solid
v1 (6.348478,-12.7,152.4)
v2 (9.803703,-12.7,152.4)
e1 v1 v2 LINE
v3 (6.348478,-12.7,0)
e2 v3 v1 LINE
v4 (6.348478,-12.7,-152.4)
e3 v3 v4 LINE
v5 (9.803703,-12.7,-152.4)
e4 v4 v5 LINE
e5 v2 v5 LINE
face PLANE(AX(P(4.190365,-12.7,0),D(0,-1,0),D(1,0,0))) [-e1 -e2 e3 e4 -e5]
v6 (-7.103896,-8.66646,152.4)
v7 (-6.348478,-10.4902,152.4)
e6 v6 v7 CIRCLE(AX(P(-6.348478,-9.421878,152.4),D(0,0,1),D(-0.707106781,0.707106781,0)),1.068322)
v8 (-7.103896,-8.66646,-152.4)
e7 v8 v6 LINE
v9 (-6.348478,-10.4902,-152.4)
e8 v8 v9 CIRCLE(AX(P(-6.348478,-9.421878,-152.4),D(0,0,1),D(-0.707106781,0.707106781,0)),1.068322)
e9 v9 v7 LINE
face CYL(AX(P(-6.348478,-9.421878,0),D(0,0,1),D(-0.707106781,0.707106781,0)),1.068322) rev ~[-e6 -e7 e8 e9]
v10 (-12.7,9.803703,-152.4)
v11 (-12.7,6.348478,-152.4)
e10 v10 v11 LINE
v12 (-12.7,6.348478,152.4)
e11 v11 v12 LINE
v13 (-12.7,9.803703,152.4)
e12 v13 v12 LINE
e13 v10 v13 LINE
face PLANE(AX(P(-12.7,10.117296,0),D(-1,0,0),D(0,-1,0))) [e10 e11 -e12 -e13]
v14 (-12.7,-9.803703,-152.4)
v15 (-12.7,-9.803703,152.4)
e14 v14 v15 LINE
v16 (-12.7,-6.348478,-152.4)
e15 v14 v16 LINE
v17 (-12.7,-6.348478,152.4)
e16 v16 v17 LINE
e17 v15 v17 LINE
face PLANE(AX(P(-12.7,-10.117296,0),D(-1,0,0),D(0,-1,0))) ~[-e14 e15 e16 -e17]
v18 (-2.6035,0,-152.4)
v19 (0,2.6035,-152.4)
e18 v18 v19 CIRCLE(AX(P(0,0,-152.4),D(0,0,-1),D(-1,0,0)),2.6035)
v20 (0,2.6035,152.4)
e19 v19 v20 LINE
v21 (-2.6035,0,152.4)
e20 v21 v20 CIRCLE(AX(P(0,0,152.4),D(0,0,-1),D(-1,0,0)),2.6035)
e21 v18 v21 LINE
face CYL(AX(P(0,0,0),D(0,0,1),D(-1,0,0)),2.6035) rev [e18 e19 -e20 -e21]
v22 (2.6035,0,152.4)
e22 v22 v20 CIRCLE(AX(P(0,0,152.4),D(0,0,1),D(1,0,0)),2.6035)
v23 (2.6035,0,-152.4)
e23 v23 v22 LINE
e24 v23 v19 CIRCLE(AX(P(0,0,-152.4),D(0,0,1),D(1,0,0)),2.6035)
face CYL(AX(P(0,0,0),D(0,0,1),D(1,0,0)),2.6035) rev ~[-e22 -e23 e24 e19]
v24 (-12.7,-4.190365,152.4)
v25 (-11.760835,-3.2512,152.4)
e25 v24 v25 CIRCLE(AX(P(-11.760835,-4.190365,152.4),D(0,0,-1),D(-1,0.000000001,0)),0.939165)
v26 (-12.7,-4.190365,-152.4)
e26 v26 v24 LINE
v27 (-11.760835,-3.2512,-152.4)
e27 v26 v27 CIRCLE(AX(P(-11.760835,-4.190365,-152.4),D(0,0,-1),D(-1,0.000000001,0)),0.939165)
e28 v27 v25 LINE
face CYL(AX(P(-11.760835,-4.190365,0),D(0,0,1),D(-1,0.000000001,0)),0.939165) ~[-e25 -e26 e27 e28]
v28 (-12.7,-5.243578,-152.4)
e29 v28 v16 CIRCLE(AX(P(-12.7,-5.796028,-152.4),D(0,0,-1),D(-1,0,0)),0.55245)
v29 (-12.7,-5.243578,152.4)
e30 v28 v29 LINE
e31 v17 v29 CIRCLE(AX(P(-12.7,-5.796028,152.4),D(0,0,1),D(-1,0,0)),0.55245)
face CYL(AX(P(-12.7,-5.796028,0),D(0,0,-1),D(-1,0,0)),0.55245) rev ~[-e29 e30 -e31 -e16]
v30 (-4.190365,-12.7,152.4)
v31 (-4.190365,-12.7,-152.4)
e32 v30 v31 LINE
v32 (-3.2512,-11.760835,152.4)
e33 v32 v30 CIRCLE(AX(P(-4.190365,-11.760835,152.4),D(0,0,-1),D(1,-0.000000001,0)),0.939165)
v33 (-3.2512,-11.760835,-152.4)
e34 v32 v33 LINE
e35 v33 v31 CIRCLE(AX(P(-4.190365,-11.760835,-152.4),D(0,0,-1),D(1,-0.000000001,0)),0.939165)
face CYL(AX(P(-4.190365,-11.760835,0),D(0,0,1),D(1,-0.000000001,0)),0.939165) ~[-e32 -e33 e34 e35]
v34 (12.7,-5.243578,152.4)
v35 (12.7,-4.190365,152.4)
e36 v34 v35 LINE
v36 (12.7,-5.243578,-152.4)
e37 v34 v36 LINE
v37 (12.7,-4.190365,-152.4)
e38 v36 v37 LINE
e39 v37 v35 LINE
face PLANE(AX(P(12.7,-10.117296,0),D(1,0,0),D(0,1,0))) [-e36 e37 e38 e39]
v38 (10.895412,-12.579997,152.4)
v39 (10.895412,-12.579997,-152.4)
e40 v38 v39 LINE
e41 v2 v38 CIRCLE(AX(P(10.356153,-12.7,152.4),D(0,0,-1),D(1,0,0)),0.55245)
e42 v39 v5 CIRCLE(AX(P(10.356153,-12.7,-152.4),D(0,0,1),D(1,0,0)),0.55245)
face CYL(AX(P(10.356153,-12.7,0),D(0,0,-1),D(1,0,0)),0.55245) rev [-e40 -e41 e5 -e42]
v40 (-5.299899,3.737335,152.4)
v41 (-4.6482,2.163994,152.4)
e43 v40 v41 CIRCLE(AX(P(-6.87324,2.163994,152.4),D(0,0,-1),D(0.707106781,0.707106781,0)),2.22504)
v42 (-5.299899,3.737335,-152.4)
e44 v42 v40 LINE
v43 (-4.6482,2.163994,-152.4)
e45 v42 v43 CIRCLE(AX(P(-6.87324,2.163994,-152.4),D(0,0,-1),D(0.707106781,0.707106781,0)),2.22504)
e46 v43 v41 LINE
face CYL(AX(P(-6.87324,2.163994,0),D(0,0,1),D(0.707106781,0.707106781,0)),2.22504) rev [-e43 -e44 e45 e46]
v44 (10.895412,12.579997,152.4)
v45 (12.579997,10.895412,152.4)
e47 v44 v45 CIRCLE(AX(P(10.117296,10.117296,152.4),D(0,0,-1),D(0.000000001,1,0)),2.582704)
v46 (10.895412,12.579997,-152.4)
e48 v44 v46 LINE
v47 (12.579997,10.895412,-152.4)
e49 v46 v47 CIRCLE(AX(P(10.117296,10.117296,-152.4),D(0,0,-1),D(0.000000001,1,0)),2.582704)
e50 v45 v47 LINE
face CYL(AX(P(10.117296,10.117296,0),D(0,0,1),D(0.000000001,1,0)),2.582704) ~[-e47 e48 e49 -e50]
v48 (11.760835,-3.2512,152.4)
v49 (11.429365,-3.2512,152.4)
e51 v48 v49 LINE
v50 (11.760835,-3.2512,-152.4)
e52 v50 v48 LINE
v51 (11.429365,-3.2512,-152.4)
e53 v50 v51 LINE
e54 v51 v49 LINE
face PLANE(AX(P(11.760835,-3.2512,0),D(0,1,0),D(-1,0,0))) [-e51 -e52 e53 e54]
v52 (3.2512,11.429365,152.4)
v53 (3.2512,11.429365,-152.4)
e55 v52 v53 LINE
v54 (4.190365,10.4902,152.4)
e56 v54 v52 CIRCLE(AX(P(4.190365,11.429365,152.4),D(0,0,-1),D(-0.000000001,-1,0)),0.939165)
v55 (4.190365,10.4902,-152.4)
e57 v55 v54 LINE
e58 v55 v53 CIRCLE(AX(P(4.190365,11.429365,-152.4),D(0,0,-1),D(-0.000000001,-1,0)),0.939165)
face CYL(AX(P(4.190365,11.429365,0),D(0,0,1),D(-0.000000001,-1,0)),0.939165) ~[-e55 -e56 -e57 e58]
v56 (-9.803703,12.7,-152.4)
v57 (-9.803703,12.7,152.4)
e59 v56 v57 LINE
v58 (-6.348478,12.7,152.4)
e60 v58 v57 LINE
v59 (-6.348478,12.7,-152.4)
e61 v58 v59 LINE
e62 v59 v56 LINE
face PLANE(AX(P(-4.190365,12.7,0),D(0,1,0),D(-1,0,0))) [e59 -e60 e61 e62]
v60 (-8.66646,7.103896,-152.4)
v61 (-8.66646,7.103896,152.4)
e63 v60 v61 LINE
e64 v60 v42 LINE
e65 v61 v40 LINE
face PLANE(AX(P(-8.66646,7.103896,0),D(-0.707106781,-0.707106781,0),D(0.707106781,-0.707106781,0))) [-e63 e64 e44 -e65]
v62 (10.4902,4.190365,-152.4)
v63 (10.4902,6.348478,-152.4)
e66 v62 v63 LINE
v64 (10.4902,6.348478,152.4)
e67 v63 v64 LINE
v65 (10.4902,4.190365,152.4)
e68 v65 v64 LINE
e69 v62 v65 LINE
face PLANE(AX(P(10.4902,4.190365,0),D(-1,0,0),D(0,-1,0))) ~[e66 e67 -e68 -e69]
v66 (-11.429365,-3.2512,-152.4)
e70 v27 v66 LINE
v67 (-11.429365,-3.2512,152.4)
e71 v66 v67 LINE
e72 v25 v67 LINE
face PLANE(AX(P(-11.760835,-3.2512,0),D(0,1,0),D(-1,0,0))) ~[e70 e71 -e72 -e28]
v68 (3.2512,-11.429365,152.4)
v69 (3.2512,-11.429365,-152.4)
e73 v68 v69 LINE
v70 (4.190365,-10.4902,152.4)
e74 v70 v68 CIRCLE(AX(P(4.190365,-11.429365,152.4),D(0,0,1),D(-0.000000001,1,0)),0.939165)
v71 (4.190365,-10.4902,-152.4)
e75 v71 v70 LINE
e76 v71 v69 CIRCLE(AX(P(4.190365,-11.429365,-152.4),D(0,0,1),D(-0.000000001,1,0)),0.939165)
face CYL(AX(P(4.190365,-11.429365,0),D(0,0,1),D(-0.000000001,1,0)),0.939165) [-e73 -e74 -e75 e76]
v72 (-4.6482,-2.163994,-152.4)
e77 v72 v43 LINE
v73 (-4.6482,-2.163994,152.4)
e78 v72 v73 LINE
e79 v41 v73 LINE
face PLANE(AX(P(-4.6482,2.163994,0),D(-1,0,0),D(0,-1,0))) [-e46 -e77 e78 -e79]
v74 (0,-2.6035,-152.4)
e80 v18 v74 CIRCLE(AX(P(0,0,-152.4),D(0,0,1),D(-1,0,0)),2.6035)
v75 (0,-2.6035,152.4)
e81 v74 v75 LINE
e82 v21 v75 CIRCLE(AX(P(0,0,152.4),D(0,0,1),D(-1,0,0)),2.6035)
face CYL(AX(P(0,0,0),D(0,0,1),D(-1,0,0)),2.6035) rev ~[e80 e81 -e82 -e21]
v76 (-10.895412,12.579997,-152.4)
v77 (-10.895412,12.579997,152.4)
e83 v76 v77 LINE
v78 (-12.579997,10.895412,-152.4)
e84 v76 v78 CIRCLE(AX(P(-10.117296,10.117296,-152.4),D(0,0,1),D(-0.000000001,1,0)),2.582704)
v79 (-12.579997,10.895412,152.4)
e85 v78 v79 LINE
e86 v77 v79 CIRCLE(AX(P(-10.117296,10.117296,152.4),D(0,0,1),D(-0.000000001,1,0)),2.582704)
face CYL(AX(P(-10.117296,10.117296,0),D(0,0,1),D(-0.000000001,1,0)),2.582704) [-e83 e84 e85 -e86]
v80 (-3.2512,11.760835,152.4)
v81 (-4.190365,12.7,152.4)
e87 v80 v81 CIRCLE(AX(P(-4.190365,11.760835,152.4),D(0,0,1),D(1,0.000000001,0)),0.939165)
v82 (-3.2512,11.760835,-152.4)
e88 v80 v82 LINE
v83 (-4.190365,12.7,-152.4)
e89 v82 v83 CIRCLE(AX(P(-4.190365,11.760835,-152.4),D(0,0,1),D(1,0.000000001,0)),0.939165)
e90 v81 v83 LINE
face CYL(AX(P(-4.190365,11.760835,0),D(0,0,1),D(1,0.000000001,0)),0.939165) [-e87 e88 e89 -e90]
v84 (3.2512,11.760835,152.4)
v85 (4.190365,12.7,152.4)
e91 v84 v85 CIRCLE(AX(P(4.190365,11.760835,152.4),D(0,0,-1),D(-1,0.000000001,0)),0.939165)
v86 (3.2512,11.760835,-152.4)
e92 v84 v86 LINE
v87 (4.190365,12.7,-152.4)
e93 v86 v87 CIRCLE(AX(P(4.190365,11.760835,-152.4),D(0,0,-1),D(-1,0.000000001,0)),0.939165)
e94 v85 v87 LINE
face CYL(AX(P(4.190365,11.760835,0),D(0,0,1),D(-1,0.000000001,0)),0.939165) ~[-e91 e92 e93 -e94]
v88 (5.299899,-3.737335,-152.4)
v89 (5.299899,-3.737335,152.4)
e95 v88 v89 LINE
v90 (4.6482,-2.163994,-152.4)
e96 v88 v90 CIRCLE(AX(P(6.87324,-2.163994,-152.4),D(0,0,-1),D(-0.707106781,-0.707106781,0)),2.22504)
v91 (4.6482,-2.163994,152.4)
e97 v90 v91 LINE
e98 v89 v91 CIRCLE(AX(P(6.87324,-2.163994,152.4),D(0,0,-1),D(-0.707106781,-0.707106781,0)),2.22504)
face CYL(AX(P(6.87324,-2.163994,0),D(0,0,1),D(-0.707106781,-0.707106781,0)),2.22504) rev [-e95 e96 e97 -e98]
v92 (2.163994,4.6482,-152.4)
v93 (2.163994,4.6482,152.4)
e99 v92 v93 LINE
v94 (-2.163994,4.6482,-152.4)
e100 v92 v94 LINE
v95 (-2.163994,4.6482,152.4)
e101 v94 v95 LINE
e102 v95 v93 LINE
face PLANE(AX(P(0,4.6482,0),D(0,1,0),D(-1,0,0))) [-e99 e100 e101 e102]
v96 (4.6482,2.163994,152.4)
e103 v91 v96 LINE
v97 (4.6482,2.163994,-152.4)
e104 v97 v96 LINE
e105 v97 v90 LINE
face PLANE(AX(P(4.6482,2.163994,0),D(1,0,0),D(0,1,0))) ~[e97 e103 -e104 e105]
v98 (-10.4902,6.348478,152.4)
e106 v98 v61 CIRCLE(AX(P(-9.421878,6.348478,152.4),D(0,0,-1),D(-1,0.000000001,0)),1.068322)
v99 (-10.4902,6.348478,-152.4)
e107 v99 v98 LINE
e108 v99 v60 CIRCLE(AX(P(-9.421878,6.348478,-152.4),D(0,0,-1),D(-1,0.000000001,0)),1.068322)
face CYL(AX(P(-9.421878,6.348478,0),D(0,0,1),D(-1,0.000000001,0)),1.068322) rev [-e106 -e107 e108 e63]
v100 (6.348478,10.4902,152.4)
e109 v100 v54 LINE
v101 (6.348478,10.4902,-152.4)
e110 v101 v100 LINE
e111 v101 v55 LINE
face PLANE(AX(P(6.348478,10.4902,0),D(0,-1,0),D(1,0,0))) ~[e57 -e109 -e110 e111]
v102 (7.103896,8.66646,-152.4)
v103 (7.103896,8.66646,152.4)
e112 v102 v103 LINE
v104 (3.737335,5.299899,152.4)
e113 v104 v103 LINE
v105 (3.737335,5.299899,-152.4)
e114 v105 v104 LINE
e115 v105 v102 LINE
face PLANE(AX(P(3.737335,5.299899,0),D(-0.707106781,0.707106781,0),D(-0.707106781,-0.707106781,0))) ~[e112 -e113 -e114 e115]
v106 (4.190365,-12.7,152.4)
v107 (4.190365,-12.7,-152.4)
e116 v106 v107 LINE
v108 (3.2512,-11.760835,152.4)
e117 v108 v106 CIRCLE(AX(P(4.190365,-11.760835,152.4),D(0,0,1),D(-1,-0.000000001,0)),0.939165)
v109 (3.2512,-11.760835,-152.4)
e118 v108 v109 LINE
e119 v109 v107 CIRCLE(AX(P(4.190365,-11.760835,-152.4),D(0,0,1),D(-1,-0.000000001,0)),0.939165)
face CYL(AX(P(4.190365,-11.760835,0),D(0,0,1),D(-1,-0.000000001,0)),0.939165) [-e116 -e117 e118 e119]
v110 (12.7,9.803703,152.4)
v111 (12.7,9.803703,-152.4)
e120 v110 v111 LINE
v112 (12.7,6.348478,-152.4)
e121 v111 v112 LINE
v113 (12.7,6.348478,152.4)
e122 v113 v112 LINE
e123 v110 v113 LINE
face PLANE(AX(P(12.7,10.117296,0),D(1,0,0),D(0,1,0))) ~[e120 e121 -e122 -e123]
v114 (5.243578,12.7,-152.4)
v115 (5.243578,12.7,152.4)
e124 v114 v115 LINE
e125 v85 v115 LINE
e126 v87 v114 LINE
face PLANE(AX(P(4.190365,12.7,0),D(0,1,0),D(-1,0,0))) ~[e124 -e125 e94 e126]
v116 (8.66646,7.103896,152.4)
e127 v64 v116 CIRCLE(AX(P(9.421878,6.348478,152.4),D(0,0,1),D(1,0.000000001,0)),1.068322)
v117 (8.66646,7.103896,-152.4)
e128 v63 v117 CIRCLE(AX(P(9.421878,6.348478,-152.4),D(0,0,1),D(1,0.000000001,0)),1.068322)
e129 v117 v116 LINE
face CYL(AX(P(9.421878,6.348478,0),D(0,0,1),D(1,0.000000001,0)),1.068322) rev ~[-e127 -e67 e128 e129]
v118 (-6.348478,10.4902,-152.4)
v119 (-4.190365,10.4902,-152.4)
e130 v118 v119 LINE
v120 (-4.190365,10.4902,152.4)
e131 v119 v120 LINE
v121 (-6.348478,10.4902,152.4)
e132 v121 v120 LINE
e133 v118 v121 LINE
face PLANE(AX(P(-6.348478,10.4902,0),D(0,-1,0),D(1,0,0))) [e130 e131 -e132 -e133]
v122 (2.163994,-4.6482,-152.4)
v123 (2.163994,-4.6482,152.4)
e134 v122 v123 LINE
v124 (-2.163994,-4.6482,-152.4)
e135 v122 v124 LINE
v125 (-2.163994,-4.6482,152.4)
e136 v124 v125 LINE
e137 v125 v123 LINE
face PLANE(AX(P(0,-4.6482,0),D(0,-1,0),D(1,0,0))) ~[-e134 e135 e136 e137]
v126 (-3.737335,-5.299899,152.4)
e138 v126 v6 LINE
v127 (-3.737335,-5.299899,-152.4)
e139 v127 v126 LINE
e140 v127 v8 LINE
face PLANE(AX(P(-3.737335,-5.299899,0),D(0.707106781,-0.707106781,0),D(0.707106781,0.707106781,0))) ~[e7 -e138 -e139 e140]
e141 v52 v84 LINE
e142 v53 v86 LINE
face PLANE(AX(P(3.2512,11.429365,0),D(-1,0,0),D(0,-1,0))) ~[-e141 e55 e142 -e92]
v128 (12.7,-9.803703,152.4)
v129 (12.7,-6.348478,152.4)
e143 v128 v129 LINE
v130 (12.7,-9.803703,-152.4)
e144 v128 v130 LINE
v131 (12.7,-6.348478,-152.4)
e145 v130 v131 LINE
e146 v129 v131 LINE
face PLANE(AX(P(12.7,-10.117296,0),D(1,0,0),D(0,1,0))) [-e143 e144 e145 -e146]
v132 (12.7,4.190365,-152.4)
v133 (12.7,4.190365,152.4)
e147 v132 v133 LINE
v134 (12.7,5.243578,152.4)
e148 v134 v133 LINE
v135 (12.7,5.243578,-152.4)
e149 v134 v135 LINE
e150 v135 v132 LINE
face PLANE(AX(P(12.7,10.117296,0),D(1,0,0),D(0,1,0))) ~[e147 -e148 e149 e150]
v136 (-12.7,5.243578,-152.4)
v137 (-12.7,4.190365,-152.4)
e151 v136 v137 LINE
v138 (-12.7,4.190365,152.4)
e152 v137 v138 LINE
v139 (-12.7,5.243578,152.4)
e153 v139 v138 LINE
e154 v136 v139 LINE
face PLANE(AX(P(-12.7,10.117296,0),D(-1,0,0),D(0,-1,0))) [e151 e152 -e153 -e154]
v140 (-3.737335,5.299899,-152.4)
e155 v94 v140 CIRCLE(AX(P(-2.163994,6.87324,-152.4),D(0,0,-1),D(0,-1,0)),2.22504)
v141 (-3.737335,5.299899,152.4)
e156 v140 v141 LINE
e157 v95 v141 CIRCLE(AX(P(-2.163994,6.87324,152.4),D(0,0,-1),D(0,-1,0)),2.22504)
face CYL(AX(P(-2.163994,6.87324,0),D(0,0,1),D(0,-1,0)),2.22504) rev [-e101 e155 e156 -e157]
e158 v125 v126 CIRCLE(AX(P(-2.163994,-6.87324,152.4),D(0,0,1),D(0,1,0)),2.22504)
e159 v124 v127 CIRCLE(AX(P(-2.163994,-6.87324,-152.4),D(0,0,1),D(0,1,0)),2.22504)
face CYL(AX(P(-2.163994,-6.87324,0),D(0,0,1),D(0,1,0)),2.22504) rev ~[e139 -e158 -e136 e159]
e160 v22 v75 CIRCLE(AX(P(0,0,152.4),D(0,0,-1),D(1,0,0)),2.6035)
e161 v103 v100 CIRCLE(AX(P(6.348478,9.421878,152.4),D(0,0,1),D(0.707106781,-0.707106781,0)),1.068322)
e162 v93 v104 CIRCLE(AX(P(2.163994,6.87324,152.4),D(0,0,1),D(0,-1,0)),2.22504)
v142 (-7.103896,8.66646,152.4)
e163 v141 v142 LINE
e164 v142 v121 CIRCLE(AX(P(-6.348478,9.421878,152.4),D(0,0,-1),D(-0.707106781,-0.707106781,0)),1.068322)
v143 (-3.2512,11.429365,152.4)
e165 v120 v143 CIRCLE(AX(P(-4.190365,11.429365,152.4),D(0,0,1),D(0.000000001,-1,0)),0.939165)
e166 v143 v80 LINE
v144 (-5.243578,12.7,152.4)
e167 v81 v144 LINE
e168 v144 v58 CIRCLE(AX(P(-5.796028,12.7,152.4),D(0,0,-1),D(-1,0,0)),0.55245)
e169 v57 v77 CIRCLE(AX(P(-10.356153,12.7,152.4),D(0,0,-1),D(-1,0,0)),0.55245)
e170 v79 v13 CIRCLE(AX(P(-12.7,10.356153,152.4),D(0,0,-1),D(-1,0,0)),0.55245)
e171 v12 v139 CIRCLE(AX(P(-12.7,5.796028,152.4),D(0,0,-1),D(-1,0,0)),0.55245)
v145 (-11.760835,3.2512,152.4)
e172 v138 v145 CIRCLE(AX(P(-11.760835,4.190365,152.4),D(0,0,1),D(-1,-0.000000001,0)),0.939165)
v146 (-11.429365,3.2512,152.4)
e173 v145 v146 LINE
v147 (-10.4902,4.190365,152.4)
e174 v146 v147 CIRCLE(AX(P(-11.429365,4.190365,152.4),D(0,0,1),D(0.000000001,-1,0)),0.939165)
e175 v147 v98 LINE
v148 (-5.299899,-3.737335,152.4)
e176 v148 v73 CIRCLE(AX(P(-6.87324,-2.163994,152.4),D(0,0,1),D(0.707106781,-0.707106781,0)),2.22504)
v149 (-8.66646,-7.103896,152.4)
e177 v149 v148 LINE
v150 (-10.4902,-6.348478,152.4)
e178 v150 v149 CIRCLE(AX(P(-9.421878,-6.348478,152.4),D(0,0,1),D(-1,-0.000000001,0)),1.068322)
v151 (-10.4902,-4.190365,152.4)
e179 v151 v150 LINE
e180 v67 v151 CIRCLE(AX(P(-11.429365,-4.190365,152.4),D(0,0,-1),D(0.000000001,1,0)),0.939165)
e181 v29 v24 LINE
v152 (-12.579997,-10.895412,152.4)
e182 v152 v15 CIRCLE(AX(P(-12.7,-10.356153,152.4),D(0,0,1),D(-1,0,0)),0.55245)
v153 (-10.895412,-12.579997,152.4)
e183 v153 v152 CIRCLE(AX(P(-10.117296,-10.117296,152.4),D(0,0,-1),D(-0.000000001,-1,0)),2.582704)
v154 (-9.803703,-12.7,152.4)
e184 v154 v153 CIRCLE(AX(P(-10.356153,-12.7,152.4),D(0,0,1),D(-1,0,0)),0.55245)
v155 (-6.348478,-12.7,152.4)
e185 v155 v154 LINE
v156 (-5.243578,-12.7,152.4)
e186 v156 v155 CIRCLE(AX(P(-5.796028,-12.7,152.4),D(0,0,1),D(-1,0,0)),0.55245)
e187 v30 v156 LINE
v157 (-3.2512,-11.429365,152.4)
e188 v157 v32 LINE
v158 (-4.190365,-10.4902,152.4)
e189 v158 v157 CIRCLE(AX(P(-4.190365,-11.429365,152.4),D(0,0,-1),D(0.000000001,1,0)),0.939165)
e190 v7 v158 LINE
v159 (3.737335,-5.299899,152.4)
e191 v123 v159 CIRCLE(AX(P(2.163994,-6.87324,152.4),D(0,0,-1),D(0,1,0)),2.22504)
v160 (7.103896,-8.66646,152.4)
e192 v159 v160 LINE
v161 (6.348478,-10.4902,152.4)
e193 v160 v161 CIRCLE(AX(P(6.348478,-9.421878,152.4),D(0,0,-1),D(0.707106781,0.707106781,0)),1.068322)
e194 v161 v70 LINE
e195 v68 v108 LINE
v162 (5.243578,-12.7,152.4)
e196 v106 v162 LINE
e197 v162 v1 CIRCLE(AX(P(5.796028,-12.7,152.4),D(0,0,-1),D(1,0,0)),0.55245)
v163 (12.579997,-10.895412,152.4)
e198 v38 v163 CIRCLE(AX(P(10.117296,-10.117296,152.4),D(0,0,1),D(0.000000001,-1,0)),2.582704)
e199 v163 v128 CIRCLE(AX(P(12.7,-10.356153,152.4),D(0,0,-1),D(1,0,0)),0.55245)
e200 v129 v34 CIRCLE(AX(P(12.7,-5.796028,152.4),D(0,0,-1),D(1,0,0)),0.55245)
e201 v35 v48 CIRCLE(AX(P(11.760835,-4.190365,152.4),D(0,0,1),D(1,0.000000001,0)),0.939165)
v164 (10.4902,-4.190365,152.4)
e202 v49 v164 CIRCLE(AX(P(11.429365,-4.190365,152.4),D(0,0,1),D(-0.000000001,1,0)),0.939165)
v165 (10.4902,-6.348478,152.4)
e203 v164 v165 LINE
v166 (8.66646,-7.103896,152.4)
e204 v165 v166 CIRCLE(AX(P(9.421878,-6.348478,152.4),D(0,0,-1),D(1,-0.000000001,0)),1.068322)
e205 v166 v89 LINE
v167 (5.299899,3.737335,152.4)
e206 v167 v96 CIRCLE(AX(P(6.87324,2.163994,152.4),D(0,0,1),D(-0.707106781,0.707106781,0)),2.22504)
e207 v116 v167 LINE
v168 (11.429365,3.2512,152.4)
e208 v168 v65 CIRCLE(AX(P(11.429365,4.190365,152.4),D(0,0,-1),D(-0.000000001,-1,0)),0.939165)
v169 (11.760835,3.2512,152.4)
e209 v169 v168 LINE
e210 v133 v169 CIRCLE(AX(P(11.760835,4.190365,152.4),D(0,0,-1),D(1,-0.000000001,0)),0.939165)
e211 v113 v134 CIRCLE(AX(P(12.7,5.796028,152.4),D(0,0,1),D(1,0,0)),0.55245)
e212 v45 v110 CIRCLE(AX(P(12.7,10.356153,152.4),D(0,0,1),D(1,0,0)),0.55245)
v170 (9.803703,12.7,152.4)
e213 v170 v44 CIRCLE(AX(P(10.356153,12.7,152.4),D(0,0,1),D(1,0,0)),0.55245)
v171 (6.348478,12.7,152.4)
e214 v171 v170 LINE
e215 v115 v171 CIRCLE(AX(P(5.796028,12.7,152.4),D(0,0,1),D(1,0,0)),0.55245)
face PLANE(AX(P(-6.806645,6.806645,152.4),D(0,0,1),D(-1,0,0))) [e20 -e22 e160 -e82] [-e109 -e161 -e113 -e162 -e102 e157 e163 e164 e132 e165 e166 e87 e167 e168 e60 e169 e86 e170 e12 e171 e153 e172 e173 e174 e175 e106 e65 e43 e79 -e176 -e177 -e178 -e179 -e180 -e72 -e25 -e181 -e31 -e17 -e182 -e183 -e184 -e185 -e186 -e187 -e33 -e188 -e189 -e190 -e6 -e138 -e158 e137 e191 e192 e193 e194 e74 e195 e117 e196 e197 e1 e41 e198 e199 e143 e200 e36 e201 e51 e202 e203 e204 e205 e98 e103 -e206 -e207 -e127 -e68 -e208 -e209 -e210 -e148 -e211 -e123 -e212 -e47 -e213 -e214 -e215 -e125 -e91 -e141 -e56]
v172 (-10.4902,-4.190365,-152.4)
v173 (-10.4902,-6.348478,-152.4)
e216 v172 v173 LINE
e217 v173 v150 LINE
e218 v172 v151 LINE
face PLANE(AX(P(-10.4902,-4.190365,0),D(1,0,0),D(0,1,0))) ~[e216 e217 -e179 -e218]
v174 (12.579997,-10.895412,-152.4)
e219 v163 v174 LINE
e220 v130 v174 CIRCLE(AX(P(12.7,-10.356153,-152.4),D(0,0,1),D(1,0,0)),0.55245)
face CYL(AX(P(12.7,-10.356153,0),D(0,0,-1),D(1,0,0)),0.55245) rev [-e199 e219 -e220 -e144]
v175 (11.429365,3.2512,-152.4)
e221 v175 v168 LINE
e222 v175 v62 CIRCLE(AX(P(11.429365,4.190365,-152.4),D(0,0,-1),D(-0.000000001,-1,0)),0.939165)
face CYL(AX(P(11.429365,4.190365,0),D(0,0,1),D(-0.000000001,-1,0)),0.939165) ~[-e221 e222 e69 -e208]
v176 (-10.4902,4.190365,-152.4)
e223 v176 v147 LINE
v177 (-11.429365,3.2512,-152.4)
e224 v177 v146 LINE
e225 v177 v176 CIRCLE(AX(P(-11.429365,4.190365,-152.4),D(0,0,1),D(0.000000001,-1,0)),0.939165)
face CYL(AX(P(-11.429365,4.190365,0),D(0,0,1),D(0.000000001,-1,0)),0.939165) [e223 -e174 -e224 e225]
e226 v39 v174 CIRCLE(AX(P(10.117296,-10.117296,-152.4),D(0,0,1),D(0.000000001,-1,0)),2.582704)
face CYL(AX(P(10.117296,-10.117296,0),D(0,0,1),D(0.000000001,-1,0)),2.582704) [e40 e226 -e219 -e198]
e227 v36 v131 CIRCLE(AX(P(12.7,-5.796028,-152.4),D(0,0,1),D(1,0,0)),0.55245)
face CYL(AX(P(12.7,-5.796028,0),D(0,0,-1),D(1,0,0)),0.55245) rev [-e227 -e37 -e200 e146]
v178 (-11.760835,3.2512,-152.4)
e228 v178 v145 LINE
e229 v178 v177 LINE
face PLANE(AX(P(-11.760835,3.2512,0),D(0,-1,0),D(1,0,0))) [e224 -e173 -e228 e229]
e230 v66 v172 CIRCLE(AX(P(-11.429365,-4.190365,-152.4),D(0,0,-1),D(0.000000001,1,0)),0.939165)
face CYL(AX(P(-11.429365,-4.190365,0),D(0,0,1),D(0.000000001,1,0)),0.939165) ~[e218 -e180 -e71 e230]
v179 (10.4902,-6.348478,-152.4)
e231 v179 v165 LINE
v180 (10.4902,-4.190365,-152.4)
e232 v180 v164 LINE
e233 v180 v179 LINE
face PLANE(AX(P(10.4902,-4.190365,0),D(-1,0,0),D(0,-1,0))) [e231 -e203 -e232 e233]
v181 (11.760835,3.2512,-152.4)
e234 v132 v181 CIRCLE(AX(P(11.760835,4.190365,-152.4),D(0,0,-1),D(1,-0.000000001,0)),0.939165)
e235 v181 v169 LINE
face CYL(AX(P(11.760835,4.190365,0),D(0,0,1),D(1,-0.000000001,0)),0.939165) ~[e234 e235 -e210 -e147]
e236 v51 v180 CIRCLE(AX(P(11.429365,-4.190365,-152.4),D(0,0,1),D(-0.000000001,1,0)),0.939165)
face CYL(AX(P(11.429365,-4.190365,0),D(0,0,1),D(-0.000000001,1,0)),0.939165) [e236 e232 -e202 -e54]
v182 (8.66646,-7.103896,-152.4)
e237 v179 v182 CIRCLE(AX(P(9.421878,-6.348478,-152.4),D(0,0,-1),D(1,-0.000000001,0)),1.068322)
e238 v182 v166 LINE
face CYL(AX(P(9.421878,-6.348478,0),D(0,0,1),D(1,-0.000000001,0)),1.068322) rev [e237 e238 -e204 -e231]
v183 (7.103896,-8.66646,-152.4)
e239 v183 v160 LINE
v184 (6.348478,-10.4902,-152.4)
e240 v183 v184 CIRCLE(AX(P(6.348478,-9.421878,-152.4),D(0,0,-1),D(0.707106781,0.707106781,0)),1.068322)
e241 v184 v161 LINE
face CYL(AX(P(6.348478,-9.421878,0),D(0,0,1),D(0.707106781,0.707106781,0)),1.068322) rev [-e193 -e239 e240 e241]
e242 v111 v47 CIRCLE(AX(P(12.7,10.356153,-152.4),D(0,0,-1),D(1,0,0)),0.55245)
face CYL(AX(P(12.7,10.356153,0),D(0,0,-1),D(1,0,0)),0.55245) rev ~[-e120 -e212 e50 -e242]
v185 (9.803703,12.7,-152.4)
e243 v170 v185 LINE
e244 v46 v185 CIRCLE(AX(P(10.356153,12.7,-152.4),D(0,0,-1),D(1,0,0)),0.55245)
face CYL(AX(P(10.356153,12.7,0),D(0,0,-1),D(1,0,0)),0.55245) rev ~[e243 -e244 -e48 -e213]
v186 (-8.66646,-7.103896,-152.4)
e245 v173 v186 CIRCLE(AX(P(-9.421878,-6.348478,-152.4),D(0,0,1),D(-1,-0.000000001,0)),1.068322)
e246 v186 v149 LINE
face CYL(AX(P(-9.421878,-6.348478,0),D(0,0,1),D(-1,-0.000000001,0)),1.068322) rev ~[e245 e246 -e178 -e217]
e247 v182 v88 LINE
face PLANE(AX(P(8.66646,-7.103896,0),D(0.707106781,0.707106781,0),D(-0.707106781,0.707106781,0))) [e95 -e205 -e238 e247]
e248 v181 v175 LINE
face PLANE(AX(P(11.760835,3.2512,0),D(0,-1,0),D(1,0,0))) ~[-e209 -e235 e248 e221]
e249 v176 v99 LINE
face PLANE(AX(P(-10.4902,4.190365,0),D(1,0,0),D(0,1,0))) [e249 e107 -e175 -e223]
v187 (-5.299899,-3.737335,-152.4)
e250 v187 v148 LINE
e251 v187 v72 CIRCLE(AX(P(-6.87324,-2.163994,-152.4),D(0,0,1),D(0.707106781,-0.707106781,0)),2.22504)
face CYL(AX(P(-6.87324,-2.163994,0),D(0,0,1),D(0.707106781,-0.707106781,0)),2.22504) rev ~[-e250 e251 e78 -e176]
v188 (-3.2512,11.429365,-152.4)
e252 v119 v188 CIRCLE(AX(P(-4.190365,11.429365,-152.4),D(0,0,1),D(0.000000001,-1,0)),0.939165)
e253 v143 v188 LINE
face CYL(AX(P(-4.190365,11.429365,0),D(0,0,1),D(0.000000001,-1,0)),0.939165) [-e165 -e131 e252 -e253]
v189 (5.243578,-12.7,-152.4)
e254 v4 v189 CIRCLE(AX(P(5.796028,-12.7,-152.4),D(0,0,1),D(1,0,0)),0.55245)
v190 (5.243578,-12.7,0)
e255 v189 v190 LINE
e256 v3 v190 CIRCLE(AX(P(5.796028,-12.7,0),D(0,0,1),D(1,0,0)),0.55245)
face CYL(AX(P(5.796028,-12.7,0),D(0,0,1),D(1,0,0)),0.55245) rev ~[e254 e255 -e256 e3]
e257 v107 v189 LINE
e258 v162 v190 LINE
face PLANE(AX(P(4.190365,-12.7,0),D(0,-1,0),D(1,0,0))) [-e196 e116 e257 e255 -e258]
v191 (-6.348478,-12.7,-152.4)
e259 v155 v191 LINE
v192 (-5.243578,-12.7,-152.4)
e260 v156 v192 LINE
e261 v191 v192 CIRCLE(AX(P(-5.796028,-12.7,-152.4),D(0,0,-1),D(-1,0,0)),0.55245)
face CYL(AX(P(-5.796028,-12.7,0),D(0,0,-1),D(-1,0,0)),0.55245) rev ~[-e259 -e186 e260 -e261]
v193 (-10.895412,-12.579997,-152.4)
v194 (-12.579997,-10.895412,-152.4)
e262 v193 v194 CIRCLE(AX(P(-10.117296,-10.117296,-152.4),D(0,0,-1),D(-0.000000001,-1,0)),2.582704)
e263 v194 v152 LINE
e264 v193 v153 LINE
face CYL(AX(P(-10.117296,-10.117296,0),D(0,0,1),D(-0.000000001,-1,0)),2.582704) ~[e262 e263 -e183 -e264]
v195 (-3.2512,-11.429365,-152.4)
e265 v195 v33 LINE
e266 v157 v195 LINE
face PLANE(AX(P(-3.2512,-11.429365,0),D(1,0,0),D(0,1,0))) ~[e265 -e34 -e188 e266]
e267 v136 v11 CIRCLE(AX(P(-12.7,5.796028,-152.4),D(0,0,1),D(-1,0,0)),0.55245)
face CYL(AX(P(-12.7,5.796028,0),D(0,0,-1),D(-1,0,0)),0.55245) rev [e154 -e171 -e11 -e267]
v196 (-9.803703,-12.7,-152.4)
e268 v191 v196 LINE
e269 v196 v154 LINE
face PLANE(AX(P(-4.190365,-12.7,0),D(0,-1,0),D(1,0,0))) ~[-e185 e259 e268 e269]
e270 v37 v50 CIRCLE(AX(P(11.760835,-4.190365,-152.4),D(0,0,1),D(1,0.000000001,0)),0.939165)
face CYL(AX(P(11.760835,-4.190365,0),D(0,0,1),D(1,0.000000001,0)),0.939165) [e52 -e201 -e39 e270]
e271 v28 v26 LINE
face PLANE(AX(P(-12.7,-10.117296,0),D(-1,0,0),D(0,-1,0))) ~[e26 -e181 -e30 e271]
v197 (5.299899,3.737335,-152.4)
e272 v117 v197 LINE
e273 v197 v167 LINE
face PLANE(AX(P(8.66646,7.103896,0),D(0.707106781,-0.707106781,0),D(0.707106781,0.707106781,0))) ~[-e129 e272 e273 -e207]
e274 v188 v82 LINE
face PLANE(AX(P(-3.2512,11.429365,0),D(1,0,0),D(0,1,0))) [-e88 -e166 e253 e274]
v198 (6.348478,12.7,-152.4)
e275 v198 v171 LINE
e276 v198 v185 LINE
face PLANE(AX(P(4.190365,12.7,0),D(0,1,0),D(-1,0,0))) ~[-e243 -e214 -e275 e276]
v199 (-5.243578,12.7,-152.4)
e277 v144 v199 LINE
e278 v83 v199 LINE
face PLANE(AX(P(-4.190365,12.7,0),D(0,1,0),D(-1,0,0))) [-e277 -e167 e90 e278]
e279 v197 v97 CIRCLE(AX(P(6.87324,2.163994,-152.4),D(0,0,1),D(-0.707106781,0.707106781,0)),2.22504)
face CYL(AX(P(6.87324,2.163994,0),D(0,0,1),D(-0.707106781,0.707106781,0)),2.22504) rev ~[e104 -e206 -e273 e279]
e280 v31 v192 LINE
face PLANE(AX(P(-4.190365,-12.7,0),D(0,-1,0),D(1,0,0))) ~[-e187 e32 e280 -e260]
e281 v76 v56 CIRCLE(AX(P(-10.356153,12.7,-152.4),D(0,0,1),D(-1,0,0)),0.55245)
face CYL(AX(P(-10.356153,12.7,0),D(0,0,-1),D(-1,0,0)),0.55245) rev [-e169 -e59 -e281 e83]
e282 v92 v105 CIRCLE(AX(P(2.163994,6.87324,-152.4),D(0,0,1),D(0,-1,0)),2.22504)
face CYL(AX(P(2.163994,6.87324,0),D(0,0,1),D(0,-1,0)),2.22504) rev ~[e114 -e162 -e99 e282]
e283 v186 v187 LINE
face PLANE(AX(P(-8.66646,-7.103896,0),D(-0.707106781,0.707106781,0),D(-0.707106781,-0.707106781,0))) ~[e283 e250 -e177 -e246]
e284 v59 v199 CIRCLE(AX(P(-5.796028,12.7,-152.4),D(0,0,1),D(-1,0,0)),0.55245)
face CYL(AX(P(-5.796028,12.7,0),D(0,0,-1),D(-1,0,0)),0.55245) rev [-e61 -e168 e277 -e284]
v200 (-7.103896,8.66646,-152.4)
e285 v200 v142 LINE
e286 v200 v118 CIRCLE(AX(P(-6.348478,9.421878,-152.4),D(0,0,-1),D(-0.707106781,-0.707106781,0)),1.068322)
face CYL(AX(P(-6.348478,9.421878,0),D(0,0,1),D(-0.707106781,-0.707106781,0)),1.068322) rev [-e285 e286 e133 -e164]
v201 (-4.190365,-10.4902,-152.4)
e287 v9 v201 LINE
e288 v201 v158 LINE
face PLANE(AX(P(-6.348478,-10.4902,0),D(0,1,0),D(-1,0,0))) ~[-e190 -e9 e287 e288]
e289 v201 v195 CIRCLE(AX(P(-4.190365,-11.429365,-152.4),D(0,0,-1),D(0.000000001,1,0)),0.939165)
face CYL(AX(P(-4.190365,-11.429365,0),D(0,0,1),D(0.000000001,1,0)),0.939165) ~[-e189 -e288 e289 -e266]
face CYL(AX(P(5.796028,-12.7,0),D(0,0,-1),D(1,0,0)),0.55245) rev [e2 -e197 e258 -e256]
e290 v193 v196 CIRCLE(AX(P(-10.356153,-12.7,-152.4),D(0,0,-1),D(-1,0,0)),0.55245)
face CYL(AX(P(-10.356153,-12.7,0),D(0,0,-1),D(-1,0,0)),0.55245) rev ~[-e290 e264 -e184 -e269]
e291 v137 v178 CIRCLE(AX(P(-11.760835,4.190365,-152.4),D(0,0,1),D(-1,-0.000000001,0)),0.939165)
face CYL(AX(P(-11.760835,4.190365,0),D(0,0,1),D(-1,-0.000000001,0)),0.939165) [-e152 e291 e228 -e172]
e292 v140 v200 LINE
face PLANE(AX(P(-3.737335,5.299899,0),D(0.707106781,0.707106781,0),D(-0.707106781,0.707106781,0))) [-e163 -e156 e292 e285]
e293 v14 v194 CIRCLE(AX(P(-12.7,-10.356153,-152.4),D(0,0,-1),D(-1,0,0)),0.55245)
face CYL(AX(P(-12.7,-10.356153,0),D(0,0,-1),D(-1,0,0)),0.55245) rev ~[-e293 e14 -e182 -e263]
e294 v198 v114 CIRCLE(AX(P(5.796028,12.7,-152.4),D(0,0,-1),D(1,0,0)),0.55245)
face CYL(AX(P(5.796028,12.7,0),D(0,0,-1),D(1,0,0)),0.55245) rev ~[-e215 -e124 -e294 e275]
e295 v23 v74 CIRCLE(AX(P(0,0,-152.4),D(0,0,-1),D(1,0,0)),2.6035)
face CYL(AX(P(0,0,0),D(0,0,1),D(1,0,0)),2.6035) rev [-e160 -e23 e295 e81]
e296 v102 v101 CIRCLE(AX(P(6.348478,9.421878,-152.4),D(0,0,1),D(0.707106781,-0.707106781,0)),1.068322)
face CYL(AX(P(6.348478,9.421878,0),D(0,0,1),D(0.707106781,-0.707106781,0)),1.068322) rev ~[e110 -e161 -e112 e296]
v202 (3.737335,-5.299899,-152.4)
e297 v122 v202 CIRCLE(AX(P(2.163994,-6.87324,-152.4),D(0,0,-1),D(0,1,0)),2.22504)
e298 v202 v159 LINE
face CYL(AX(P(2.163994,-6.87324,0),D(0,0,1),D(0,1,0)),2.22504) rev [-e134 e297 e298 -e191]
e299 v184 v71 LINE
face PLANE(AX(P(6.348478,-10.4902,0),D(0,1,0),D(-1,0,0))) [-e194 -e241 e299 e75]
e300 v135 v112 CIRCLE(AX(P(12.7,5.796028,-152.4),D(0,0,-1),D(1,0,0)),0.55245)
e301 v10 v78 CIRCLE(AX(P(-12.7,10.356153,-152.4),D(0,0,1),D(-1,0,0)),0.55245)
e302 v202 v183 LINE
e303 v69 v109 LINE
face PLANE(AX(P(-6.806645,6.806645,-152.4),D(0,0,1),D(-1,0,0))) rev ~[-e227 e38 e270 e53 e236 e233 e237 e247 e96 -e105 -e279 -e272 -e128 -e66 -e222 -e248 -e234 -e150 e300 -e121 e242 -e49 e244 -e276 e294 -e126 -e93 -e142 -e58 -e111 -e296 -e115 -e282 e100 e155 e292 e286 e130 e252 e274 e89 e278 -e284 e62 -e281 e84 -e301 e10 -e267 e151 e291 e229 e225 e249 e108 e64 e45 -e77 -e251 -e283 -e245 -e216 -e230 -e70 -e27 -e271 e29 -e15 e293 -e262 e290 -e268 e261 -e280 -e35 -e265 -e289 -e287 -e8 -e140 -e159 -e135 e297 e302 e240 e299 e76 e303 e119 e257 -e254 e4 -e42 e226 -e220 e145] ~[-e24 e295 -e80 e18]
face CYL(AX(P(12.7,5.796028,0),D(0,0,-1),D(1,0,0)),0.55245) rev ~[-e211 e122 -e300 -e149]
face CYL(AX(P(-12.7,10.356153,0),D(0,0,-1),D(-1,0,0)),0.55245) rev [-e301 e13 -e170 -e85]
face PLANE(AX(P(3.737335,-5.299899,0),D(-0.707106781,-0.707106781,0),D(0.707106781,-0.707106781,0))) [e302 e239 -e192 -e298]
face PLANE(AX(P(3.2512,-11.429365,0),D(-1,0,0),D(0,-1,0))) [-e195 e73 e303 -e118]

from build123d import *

# Parameters (mm, degrees)
BOSS_EXTRUDE1_DEPTH     = 152.4
SKETCH5_R               = 0.55245
CUT_EXTRUDE1_DEPTH      = 153.4
CUT_EXTRUDE1_DEPTH_BACK = 153.4


with BuildPart() as part:
    # Sketch4 → Boss-Extrude1 (new body, symmetric)
    with BuildSketch(Plane.XY):
        with BuildLine():
            Line((4.190365, -12.7), (10.11729625, -12.7))
            ThreePointArc((10.11729625, -12.7), (11.943543585, -11.943543585), (12.7, -10.11729625))
            Line((12.7, -10.11729625), (12.7, -4.190365))
            ThreePointArc((12.7, -4.190365), (12.42492494, -3.52627506), (11.760835, -3.2512))
            Line((11.760835, -3.2512), (11.429365, -3.2512))
            ThreePointArc((11.429365, -3.2512), (10.76527506, -3.52627506), (10.4902, -4.190365))
            Line((10.4902, -4.190365), (10.4902, -6.348478019))
            ThreePointArc((10.4902, -6.348478019), (9.830707141, -7.335478831), (8.666460301, -7.103895736))
            Line((8.666460301, -7.103895736), (5.299899128, -3.737334563))
            ThreePointArc((5.299899128, -3.737334563), (4.817571085, -3.015479634), (4.6482, -2.16399369))
            Line((4.6482, -2.16399369), (4.6482, 0))
            Line((4.6482, 0), (2.6035, 0))
            ThreePointArc((2.6035, 0), (1.840952505, -1.840952505), (0, -2.6035))
            Line((0, -2.6035), (0, -4.6482))
            Line((0, -4.6482), (2.16399369, -4.6482))
            ThreePointArc((2.16399369, -4.6482), (3.015479634, -4.817571085), (3.737334563, -5.299899128))
            Line((3.737334563, -5.299899128), (7.103895736, -8.666460301))
            ThreePointArc((7.103895736, -8.666460301), (7.335478831, -9.830707141), (6.348478019, -10.4902))
            Line((6.348478019, -10.4902), (4.190365, -10.4902))
            ThreePointArc((4.190365, -10.4902), (3.52627506, -10.76527506), (3.2512, -11.429365))
            Line((3.2512, -11.429365), (3.2512, -11.760835))
            ThreePointArc((3.2512, -11.760835), (3.52627506, -12.42492494), (4.190365, -12.7))
        make_face()
    extrude(amount=BOSS_EXTRUDE1_DEPTH, both=True)

    # Sketch5 → Cut-Extrude1 (cut, two sides)
    with BuildSketch(Plane.XY) as cut_extrude1_sk:
        with Locations((10.356153152, -12.7)):
            Circle(SKETCH5_R)
        with Locations((5.796028019, -12.7)):
            Circle(SKETCH5_R)
        with Locations((12.7, -10.356153152)):
            Circle(SKETCH5_R)
        with Locations((12.7, -5.796028019)):
            Circle(SKETCH5_R)
    extrude(amount=CUT_EXTRUDE1_DEPTH, mode=Mode.SUBTRACT)
    extrude(cut_extrude1_sk.sketch, amount=-CUT_EXTRUDE1_DEPTH_BACK, mode=Mode.SUBTRACT)

    # Mirror1: part across plane


with BuildPart() as part_1:
    add(part.part)
    add(part.part.mirror(Plane(origin=(0, 0, 0), x_dir=(0, 0, 1), z_dir=(1, 0, 0))))

    # Mirror2: part across plane


with BuildPart() as part_2:
    add(part_1.part)
    add(part_1.part.mirror(Plane.ZX))


solid = part_2.part
